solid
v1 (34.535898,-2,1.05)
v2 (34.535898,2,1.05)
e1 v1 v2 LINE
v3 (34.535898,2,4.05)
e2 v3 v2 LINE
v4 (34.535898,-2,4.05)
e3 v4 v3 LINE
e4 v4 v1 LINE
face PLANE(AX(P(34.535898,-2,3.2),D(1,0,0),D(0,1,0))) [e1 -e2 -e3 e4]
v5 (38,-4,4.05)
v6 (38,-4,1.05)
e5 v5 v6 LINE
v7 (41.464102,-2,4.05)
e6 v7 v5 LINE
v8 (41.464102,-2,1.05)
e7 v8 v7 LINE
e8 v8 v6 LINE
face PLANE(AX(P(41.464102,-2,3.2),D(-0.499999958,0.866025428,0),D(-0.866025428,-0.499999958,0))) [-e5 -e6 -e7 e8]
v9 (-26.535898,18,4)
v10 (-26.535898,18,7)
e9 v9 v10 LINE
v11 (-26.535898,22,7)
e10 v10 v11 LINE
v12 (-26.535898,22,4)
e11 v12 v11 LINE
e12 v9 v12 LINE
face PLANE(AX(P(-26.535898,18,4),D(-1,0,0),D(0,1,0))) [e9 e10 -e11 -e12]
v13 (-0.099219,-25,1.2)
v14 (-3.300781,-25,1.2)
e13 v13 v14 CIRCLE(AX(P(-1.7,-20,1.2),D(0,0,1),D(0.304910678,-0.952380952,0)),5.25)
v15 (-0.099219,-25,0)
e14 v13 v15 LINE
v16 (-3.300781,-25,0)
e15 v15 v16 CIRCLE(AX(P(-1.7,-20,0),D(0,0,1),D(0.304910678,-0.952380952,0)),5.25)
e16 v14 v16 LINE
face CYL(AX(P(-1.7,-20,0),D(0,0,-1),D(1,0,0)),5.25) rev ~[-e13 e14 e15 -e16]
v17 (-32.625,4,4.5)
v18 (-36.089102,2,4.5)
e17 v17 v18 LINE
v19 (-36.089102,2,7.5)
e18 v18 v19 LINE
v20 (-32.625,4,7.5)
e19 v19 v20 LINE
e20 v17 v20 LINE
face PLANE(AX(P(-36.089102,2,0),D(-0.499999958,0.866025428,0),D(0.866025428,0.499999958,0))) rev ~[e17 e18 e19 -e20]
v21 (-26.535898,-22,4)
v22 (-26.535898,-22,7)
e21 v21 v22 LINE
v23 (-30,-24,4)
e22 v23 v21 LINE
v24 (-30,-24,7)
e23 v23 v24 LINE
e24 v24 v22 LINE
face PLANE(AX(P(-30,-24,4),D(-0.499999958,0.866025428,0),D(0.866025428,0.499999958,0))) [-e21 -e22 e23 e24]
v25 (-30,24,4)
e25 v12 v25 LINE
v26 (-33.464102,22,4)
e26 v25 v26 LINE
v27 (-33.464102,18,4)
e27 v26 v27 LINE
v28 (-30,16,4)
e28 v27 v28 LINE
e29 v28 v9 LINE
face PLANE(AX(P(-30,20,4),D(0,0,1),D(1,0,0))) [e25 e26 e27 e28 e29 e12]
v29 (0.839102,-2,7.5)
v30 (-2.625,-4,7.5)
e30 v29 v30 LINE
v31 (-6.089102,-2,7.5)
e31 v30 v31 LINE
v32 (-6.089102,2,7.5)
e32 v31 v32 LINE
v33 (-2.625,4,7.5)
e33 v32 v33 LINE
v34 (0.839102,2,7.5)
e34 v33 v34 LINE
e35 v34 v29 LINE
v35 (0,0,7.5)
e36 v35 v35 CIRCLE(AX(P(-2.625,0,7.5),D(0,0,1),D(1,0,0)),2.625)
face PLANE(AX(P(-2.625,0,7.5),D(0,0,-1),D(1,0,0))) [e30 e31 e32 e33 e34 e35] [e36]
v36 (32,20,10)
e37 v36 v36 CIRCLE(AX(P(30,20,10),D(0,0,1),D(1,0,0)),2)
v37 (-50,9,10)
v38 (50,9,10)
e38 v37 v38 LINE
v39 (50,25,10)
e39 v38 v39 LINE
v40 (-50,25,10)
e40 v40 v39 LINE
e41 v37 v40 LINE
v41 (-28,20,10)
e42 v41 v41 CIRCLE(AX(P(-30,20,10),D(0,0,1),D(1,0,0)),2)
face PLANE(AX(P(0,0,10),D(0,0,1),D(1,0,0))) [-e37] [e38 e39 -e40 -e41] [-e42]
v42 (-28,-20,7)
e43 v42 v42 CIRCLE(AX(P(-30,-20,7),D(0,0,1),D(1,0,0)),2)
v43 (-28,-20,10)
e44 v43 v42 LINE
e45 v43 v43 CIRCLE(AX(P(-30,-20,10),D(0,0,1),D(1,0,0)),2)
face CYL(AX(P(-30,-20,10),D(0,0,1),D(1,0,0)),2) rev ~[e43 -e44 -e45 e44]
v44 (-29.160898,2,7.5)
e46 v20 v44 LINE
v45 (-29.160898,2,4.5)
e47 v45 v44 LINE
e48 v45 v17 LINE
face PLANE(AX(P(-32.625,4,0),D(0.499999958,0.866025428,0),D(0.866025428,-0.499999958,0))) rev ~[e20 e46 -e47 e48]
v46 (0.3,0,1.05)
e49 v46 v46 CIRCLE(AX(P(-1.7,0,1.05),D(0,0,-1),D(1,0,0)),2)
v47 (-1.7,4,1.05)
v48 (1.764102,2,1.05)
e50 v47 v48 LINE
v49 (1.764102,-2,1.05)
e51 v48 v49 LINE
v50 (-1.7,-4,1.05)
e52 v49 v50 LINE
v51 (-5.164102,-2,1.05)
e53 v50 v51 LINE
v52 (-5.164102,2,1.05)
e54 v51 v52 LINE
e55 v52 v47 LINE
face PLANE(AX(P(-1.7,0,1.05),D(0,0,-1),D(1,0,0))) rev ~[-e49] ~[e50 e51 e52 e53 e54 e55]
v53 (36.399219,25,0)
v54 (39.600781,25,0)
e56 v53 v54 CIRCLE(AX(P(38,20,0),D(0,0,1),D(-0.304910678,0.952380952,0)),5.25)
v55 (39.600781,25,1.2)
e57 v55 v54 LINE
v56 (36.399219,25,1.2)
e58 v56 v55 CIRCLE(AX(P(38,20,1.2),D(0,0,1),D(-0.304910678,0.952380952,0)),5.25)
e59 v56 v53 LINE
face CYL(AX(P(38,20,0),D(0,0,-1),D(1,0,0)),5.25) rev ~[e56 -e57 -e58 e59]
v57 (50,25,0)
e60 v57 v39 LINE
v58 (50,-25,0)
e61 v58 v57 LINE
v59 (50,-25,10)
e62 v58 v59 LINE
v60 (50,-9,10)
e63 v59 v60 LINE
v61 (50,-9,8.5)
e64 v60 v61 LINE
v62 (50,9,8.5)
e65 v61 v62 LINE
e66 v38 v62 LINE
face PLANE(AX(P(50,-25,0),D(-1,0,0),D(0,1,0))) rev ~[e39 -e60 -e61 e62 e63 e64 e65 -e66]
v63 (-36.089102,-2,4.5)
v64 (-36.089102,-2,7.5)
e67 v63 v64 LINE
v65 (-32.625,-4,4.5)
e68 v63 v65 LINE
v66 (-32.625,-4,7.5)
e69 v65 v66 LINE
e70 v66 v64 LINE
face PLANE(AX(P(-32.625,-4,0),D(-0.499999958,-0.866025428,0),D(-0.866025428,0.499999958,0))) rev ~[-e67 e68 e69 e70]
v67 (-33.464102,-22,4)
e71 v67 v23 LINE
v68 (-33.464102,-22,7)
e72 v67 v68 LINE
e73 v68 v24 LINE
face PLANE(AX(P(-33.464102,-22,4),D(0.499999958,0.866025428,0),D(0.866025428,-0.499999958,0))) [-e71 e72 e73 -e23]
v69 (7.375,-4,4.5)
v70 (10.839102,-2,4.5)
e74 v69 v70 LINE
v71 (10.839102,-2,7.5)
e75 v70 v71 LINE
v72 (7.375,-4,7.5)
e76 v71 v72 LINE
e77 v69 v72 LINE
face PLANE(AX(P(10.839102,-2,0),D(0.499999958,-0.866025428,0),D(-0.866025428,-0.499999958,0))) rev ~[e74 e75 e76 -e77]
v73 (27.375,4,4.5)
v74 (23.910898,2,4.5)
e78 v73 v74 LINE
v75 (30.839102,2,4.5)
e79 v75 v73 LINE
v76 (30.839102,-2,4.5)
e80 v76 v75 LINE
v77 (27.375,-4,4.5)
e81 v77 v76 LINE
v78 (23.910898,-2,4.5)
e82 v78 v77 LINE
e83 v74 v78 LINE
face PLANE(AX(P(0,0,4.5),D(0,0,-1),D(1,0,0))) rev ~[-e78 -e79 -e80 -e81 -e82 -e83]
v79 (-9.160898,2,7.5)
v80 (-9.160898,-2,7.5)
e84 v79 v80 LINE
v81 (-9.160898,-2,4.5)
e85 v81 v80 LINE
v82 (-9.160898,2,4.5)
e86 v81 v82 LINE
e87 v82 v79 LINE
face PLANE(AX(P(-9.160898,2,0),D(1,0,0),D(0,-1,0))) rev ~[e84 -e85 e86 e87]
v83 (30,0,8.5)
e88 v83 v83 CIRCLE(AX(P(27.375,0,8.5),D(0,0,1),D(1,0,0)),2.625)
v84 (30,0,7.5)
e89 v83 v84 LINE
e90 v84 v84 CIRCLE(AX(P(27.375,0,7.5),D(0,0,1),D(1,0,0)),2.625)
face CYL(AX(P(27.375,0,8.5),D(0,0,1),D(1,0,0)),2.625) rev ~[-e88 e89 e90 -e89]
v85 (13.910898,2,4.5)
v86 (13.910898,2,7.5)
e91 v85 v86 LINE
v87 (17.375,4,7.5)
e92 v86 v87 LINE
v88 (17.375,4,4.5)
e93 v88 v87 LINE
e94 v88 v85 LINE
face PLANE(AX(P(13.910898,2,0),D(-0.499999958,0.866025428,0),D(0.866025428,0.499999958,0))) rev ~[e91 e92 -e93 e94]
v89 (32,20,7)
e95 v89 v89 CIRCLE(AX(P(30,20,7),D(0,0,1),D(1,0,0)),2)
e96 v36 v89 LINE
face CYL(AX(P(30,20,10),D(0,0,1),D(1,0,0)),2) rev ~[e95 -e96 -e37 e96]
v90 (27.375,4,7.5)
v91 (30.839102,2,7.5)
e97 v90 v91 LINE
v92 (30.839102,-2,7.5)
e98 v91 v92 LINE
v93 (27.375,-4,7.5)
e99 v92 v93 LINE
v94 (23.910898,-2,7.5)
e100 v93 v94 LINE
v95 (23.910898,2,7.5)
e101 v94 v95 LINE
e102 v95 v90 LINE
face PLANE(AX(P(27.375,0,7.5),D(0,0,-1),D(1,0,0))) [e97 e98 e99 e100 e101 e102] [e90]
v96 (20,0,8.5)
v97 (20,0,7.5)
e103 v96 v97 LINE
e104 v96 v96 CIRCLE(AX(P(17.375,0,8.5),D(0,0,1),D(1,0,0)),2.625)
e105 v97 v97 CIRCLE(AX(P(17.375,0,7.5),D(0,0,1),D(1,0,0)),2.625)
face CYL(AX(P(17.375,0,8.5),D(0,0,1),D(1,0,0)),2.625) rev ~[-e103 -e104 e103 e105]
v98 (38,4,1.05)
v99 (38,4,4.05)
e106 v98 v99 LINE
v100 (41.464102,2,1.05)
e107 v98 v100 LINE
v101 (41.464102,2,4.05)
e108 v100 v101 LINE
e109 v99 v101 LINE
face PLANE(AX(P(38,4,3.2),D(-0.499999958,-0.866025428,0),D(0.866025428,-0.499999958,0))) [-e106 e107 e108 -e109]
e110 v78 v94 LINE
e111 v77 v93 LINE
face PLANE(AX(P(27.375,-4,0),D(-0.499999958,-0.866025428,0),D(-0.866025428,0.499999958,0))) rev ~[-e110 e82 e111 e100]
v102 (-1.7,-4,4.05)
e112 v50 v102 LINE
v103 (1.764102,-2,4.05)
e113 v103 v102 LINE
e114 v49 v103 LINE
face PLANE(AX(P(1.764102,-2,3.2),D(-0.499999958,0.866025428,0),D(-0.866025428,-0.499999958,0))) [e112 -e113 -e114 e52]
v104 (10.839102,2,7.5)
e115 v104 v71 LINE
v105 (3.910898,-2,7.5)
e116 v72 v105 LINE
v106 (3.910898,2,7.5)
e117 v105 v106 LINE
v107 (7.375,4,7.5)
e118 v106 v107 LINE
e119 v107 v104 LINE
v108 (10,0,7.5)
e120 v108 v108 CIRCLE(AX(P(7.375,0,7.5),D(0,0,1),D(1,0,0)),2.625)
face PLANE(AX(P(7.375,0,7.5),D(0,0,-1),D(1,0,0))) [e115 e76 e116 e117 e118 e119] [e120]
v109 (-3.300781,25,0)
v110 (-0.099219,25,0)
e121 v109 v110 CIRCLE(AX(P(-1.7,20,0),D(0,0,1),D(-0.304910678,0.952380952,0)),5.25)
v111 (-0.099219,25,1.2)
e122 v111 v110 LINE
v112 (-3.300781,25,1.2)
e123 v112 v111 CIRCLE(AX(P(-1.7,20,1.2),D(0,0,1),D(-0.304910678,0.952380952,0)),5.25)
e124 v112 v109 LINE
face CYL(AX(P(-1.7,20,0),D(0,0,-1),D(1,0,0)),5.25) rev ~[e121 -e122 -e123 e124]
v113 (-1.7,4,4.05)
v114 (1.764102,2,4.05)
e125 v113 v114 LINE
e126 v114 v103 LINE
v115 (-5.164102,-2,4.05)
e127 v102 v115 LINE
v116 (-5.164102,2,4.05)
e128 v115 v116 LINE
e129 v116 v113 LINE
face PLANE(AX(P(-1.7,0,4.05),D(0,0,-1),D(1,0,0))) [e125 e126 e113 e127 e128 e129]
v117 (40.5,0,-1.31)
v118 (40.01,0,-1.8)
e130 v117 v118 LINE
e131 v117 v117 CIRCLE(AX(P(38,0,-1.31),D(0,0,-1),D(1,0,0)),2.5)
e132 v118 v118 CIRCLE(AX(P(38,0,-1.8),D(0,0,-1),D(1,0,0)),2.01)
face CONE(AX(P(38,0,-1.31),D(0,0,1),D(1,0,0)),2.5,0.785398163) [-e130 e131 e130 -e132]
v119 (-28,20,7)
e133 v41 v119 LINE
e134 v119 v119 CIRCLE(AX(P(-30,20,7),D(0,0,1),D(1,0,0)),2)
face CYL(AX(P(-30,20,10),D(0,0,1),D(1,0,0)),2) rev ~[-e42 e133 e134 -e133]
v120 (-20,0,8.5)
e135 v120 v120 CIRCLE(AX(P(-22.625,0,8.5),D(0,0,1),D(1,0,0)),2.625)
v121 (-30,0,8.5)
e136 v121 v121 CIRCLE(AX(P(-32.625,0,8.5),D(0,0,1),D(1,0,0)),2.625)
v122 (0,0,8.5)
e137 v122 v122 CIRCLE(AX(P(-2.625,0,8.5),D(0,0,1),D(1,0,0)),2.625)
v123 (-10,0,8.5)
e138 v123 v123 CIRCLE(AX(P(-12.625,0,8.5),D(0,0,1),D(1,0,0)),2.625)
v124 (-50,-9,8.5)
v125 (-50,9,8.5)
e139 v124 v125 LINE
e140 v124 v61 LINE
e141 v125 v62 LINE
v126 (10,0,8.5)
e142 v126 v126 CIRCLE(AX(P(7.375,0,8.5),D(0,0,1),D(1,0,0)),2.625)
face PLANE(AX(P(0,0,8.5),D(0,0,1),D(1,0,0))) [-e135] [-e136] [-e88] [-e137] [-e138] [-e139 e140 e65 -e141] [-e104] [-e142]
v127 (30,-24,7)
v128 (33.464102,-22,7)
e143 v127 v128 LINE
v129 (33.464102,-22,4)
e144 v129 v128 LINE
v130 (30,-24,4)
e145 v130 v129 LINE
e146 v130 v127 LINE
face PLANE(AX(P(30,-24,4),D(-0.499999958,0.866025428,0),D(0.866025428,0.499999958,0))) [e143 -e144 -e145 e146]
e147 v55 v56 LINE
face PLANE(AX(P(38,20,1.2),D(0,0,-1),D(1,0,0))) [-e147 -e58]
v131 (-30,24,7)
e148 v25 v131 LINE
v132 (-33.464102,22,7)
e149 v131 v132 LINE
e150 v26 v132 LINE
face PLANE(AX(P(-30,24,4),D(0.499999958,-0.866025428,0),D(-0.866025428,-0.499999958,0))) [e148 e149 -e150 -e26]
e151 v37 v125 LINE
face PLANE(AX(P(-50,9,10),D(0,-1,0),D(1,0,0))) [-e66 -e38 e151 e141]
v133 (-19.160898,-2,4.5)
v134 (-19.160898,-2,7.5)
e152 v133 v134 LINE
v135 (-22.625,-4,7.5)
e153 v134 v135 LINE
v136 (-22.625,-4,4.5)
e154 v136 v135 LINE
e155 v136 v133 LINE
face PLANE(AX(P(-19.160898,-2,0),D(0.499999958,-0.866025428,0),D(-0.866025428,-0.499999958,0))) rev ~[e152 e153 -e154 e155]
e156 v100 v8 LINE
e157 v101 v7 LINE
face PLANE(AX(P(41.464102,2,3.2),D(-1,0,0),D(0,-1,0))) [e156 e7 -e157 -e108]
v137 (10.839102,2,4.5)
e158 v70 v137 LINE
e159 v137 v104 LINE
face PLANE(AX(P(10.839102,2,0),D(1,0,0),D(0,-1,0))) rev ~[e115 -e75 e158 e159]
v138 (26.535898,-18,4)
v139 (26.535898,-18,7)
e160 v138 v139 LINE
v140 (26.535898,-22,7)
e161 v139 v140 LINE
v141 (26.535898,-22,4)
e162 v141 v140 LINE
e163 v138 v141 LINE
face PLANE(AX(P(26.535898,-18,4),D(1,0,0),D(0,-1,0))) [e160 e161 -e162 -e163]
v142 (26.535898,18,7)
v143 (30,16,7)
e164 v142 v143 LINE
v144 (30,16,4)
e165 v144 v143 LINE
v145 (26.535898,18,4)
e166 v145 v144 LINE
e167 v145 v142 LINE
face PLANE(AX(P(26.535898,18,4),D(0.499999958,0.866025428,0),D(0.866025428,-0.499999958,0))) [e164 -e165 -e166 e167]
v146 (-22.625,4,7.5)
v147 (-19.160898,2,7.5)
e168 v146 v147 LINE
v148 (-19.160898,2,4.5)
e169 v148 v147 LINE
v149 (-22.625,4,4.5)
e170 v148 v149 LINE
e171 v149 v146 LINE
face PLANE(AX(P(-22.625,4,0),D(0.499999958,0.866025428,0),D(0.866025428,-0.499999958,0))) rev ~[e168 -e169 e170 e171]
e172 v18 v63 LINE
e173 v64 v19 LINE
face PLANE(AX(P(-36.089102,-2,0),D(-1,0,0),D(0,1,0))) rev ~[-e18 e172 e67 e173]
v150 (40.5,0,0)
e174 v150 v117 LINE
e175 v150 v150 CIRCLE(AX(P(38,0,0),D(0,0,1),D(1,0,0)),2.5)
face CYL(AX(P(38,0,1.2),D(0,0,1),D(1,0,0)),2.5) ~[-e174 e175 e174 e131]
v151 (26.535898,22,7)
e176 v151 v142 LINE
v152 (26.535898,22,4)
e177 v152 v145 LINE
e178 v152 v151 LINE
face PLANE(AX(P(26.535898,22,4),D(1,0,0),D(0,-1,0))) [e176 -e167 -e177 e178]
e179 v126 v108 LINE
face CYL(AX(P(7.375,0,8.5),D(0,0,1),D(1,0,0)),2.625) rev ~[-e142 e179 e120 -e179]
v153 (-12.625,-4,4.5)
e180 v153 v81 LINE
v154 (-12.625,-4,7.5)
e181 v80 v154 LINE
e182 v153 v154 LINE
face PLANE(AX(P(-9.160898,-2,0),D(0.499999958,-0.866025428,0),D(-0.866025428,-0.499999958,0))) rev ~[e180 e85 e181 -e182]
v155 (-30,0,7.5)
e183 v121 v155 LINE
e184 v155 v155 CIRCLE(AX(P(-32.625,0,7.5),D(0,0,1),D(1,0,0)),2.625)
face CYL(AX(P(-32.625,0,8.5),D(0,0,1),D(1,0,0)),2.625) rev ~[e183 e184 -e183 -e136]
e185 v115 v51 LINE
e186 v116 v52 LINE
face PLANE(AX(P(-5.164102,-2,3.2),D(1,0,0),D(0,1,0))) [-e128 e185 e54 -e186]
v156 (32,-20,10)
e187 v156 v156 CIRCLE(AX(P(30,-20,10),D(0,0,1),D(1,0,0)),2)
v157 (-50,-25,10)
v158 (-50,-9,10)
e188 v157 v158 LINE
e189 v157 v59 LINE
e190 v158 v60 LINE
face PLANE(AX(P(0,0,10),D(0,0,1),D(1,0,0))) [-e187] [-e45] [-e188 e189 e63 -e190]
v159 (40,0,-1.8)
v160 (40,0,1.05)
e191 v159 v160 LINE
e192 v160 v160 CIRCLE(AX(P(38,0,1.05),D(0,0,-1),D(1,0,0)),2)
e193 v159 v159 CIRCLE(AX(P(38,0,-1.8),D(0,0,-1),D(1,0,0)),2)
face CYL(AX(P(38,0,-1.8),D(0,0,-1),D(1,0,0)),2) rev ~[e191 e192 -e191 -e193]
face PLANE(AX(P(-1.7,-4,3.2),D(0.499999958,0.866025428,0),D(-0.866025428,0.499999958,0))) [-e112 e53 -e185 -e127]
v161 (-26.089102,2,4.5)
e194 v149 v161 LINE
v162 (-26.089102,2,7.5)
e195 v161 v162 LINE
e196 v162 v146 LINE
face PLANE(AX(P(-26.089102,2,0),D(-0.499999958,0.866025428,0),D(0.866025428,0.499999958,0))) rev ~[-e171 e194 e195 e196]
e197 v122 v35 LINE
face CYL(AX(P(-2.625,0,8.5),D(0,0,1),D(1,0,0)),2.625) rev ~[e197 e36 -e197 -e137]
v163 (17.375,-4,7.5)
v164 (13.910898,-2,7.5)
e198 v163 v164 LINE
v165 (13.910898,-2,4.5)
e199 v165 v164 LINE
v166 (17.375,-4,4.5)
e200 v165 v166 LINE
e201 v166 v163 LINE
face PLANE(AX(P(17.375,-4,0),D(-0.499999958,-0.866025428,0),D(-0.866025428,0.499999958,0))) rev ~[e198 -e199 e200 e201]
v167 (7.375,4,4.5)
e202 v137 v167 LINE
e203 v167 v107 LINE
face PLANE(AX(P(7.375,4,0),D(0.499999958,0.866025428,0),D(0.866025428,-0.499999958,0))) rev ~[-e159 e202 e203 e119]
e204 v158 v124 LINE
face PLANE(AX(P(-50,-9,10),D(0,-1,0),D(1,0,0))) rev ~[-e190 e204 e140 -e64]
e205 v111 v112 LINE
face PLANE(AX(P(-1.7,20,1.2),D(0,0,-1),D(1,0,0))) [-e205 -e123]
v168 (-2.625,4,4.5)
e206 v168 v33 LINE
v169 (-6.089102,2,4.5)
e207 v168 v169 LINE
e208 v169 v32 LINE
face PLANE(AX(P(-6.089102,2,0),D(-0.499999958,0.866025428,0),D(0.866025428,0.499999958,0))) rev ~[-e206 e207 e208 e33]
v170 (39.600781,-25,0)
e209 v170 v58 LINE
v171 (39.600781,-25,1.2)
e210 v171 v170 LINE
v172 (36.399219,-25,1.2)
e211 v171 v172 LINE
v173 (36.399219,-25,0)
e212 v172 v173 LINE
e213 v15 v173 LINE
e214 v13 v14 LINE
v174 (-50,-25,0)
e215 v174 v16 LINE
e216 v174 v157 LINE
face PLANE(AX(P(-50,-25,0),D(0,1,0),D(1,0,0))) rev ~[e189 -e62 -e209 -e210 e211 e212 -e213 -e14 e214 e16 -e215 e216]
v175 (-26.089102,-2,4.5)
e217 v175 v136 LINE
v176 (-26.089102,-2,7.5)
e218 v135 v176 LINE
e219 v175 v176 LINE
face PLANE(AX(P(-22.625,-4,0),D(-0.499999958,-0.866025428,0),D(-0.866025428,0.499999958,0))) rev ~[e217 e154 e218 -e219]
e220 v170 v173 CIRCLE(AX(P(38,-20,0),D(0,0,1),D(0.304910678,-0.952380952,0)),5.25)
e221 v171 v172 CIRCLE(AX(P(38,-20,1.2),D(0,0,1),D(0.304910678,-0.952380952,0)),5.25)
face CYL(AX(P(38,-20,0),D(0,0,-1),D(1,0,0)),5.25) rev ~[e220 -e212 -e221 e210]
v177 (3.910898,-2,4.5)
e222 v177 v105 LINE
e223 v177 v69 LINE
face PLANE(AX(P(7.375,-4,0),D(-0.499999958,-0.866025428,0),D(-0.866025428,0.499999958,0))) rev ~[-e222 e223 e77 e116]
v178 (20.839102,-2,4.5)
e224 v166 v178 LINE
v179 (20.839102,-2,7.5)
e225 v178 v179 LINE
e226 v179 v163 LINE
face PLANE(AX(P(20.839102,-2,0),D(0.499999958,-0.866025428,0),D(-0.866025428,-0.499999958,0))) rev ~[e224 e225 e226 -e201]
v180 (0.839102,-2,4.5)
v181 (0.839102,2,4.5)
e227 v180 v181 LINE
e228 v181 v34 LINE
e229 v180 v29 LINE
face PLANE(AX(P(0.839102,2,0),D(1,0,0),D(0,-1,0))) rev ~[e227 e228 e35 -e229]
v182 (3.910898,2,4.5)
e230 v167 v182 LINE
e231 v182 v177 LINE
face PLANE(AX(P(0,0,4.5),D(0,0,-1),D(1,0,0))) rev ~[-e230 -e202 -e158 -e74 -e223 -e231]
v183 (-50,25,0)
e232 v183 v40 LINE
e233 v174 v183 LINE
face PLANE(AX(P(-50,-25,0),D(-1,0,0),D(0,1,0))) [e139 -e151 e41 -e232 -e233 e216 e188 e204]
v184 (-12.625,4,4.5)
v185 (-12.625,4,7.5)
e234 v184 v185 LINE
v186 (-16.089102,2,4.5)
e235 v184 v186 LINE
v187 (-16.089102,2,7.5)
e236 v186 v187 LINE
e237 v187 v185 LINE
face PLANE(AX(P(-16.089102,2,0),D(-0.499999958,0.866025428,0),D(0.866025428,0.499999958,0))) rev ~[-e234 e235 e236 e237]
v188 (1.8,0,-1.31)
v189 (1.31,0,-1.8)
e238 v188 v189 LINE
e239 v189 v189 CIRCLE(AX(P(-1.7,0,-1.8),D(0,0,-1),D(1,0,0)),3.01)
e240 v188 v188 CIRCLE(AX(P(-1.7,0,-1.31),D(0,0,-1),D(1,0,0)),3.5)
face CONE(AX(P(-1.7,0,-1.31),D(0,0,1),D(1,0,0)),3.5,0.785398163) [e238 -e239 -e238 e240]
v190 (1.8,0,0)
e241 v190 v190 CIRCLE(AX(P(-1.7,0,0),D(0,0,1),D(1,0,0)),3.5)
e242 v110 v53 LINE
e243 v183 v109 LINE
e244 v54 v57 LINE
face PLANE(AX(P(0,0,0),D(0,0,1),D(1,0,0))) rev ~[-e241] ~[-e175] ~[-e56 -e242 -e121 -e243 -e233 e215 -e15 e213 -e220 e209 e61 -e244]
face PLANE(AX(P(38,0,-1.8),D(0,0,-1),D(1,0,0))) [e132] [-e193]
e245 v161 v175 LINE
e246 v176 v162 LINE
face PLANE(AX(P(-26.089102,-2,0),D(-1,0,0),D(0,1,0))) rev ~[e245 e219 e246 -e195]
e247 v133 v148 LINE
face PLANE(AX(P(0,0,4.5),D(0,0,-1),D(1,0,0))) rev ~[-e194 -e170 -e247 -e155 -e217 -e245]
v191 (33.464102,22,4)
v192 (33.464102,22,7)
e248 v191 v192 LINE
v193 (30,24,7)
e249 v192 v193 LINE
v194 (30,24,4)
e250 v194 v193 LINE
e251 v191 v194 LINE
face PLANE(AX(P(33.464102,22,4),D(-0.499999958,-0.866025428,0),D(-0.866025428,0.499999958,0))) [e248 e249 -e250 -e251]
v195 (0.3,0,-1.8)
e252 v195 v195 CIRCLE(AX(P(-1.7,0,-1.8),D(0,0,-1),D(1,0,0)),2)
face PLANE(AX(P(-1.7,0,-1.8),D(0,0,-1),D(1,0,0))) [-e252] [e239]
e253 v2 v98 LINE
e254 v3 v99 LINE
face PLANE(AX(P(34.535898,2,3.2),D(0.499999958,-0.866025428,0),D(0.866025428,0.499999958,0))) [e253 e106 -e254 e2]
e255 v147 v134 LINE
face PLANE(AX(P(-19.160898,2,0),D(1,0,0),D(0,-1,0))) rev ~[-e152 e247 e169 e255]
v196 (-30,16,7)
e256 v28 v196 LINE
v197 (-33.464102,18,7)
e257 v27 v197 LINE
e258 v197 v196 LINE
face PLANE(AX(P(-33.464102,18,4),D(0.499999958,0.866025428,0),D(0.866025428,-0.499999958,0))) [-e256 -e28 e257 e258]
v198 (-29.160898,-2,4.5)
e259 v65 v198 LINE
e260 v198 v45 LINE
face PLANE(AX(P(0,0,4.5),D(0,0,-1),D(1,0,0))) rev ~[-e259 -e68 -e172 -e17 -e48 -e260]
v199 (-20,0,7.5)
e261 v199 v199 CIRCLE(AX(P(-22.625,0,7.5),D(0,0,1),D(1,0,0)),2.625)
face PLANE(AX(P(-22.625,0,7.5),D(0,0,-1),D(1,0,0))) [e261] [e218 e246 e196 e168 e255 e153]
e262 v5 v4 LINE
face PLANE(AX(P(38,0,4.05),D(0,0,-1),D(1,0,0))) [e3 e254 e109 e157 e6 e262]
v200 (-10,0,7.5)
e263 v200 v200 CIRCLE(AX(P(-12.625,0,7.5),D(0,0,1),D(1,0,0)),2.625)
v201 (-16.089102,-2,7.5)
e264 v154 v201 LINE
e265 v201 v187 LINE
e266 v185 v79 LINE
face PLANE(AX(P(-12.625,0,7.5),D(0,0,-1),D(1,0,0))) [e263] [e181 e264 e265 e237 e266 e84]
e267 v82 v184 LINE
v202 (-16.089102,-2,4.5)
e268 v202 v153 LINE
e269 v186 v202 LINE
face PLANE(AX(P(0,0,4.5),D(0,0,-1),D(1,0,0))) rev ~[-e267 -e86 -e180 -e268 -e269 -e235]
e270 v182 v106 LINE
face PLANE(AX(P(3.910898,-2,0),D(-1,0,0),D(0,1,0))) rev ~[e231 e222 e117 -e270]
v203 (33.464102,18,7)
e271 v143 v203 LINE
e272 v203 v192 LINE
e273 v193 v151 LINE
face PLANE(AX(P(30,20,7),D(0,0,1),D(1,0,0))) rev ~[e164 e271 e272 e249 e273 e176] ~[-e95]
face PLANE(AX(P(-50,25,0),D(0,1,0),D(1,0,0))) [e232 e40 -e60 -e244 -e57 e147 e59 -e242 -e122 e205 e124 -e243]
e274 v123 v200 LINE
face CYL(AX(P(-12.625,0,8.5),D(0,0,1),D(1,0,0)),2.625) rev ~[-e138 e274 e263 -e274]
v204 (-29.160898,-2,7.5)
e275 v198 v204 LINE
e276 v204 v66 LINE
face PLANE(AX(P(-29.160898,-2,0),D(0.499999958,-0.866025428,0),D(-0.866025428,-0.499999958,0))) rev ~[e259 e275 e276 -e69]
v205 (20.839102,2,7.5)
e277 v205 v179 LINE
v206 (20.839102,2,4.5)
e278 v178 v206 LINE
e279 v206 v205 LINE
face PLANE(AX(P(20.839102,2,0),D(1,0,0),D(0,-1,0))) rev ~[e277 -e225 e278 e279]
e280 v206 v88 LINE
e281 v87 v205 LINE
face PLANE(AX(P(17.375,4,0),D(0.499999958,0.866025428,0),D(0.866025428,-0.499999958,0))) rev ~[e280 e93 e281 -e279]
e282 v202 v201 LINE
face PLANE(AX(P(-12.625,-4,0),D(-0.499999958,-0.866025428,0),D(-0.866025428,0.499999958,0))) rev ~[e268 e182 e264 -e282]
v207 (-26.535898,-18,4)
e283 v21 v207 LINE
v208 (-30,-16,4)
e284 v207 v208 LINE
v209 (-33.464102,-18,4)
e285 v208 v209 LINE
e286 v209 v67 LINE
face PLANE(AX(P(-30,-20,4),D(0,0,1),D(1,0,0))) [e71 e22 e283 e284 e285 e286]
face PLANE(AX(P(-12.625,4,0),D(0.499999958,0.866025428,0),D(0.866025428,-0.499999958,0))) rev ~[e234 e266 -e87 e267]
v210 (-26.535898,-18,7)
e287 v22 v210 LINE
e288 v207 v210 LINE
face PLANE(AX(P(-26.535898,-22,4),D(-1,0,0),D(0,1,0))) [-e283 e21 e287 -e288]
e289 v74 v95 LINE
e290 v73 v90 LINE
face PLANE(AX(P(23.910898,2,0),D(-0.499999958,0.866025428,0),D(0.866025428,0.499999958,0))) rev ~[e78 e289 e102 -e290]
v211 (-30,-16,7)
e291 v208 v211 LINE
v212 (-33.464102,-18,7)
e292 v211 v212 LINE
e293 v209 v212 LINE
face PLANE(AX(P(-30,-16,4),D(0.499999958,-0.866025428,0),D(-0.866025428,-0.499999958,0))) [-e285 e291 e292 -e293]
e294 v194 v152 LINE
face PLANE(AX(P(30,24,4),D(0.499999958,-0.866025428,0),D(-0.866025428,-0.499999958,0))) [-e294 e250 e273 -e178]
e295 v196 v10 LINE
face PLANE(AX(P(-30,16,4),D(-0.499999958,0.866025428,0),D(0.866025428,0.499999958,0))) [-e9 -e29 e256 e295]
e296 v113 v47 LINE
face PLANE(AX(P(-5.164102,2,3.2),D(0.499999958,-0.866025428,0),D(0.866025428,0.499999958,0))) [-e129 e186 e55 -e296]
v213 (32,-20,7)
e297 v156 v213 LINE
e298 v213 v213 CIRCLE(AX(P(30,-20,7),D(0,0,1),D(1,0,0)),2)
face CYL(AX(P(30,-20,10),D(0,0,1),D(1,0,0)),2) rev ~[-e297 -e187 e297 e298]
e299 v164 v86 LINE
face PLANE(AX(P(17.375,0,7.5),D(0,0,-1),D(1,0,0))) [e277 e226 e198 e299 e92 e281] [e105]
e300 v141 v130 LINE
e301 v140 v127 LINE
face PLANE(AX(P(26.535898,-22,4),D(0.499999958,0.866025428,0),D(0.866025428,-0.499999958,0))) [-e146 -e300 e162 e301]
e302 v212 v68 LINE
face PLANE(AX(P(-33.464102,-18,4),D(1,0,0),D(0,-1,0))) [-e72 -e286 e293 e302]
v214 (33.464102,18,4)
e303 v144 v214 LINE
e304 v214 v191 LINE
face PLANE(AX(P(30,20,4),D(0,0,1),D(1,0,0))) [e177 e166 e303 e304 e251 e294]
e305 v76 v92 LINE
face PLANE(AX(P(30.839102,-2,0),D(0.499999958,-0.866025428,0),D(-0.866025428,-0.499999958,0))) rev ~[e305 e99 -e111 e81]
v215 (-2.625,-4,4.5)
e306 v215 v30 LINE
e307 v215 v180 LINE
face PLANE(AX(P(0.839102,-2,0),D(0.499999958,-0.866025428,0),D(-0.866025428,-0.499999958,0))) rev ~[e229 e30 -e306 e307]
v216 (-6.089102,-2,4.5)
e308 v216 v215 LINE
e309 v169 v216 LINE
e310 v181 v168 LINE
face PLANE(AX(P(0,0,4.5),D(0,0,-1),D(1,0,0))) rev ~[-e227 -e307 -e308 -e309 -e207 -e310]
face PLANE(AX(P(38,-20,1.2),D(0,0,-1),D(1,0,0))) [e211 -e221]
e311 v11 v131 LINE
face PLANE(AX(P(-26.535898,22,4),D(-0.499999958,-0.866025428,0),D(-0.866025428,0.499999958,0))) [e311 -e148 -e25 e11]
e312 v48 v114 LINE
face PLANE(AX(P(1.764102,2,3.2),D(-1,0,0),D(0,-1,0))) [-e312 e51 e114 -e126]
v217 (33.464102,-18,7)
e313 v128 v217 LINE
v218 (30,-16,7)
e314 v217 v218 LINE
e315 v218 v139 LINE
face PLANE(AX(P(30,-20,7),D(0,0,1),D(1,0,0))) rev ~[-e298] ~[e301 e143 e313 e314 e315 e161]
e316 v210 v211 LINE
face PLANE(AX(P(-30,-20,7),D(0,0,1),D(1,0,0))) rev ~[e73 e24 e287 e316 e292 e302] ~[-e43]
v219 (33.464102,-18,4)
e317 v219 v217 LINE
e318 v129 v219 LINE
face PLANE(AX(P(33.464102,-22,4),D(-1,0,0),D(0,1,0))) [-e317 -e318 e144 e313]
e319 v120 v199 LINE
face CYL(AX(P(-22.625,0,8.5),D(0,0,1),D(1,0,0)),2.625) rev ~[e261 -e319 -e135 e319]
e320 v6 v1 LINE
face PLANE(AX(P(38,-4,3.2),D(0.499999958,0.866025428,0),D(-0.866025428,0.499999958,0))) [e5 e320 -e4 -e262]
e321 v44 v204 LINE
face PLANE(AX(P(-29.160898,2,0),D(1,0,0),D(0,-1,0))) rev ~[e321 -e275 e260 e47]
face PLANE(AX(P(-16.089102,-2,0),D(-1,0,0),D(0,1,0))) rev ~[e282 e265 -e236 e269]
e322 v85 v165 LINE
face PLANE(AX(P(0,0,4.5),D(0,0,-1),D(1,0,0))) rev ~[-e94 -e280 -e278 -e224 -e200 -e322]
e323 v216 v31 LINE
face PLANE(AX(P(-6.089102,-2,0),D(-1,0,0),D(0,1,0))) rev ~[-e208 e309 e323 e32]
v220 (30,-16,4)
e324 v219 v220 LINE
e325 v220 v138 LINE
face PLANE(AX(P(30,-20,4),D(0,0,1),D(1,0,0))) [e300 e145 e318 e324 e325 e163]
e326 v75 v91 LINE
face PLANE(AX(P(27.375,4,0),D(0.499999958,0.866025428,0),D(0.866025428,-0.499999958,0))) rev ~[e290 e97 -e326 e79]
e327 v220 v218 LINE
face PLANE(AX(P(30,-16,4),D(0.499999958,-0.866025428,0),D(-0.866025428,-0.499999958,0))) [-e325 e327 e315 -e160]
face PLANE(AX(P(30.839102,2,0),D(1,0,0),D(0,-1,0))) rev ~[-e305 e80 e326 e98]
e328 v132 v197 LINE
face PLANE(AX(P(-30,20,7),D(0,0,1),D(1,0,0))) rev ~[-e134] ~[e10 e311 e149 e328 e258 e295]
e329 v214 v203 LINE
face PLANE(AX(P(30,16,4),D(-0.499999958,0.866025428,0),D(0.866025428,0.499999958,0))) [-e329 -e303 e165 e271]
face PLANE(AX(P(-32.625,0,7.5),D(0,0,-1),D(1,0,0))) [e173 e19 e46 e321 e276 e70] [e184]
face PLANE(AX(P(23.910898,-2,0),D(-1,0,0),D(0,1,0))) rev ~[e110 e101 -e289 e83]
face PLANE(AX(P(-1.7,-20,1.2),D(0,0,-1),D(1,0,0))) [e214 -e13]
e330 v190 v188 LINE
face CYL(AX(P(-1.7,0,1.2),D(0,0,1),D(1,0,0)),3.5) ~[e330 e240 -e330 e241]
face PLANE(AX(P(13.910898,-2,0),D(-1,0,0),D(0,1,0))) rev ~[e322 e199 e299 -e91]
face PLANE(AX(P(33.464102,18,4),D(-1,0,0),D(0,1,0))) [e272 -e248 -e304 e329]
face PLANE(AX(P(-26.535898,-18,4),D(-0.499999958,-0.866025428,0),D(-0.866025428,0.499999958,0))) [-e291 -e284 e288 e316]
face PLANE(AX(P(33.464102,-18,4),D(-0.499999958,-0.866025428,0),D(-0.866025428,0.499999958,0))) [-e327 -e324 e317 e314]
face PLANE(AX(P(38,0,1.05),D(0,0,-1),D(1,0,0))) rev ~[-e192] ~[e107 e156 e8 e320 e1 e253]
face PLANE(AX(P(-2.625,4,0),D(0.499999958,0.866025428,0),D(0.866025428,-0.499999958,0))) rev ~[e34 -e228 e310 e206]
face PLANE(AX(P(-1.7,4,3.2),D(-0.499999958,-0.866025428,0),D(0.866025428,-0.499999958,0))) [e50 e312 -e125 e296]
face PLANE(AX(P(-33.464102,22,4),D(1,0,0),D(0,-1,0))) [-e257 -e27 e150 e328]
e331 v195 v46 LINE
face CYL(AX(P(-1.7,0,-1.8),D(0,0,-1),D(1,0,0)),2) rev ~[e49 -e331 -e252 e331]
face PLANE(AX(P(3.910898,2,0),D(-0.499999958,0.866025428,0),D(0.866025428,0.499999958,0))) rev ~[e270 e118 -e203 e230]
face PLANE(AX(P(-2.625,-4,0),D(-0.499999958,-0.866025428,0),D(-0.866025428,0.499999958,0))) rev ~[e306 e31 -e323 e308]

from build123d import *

# Parameters (mm, degrees)
SKETCH_W             = 100
SKETCH_H             = 50
PAD_DEPTH            = 10
SKETCH001_W          = 100
SKETCH001_H          = 18
POCKET_DEPTH         = 1.5
SKETCH002_R          = 2.625
POCKET001_DEPTH      = 8.501
POCKET002_DEPTH      = 7.5
SKETCH004_W          = 77
SKETCH004_H          = 15
PAD001_DEPTH         = 4.5
SKETCH005_R          = 5.25
POCKET003_DEPTH      = 1.2
SKETCH006_R          = 3.5
SKETCH006_R_2        = 2.5
PAD002_DEPTH         = 3
SKETCH008_R          = 2
POCKET005_DEPTH      = 5
SKETCH009_R          = 2
POCKET006_DEPTH      = 5
CHAMFER_SIZE         = 0.49
POCKET007_DEPTH      = 2.15
POCKET007_DEPTH_BACK = 0.85
SKETCH011_R          = 2
POCKET008_DEPTH      = 6
POCKET009_DEPTH      = 3


with BuildPart() as part:
    # Sketch → Pad (new body)
    with BuildSketch(Plane.XY):
        Rectangle(SKETCH_W, SKETCH_H)
    extrude(amount=PAD_DEPTH)

    # Sketch001 (on Face6 of Pad) → Pocket (cut)
    with BuildSketch(Plane.XY.offset(10)):
        Rectangle(SKETCH001_W, SKETCH001_H)
    extrude(amount=-POCKET_DEPTH, mode=Mode.SUBTRACT)

    # Sketch002 (on Face7 of Pocket) → Pocket001 (cut, through all)
    with BuildSketch(Plane.XY.offset(8.5)):
        with Locations((-22.625, 0)):
            Circle(SKETCH002_R)
        with Locations((-12.625, 0)):
            Circle(SKETCH002_R)
        with Locations((-2.625, 0)):
            Circle(SKETCH002_R)
        with Locations((7.375, 0)):
            Circle(SKETCH002_R)
        with Locations((17.375, 0)):
            Circle(SKETCH002_R)
        with Locations((27.375, 0)):
            Circle(SKETCH002_R)
        with Locations((-32.625, 0)):
            Circle(SKETCH002_R)
    extrude(amount=-POCKET001_DEPTH, mode=Mode.SUBTRACT)

    # Sketch003 (on Face4 of Pocket001) → Pocket002 (cut)
    with BuildSketch(Plane(origin=(0, 0, 0), x_dir=(1, 0, 0), z_dir=(0, 0, -1))):
        Polygon((-32.625, -4), (-29.160898, -2), (-29.160898, 2), (-32.625, 4), (-36.089102, 2), (-36.089102, -2), align=None)
        Polygon((-22.625, -4), (-19.160898, -2), (-19.160898, 2), (-22.625, 4), (-26.089102, 2), (-26.089102, -2), align=None)
        Polygon((-12.625, -4), (-9.160898, -2), (-9.160898, 2), (-12.625, 4), (-16.089102, 2), (-16.089102, -2), align=None)
        Polygon((-2.625, -4), (0.839102, -2), (0.839102, 2), (-2.625, 4), (-6.089102, 2), (-6.089102, -2), align=None)
        Polygon((7.375, -4), (10.839102, -2), (10.839102, 2), (7.375, 4), (3.910898, 2), (3.910898, -2), align=None)
        Polygon((17.375, -4), (20.839102, -2), (20.839102, 2), (17.375, 4), (13.910898, 2), (13.910898, -2), align=None)
        Polygon((27.375, -4), (30.839102, -2), (30.839102, 2), (27.375, 4), (23.910898, 2), (23.910898, -2), align=None)
    extrude(amount=-POCKET002_DEPTH, mode=Mode.SUBTRACT)

    # Sketch004 (on DatumPlane) → Pad001 (join)
    with BuildSketch(Plane(origin=(0, 0, 4.5), x_dir=(1, 0, 0), z_dir=(0, 0, -1))):
        Rectangle(SKETCH004_W, SKETCH004_H)
    extrude(amount=PAD001_DEPTH)

    # Sketch005 (on Face4 of Pad001) → Pocket003 (cut)
    with BuildSketch(Plane(origin=(0, 0, 0), x_dir=(1, 0, 0), z_dir=(0, 0, -1))):
        with Locations((38, 20)):
            Circle(SKETCH005_R)
        with Locations((38, -20)):
            Circle(SKETCH005_R)
        with Locations((-1.7, 20)):
            Circle(SKETCH005_R)
        with Locations((-1.7, -20)):
            Circle(SKETCH005_R)
    extrude(amount=-POCKET003_DEPTH, mode=Mode.SUBTRACT)

    # Sketch006 (on Face4 of Pocket003) → Pad002 (join)
    with BuildSketch(Plane(origin=(0, 0, 1.2), x_dir=(1, 0, 0), z_dir=(0, 0, -1))):
        with Locations((-1.7, 0)):
            Circle(SKETCH006_R)
        with Locations((38, 0)):
            Circle(SKETCH006_R_2)
    extrude(amount=PAD002_DEPTH)

    # Sketch008 → Pocket005 (cut)
    with BuildSketch(Plane(origin=(0, 0, -1.8), x_dir=(1, 0, 0), z_dir=(0, 0, -1))):
        with Locations((-1.7, 0)):
            Circle(SKETCH008_R)
        with Locations((38, 0)):
            Circle(SKETCH008_R)
    extrude(amount=-POCKET005_DEPTH, mode=Mode.SUBTRACT)

    # Sketch009 (on Face33 of Pad002) → Pocket006 (cut)
    with BuildSketch(Plane(origin=(0, 0, -1.8), x_dir=(1, 0, 0), z_dir=(0, 0, -1))):
        with Locations((-1.7, 0)):
            Circle(SKETCH009_R)
        with Locations((38, 0)):
            Circle(SKETCH009_R)
    extrude(amount=-POCKET006_DEPTH, mode=Mode.SUBTRACT)

    # Chamfer
    chamfer_edges = [part.edges().sort_by_distance(p)[0] for p in [
        (-5.2, 0, -1.8),
        (35.5, 0, -1.8),
    ]]
    chamfer(chamfer_edges, length=CHAMFER_SIZE)

    # Sketch010 (on Face37 of Chamfer) → Pocket007 (cut, two sides)
    with BuildSketch(Plane(origin=(0, 0, 3.2), x_dir=(1, 0, 0), z_dir=(0, 0, -1))) as pocket007_sk:
        Polygon((-1.7, -4), (1.764102, -2), (1.764102, 2), (-1.7, 4), (-5.164102, 2), (-5.164102, -2), align=None)
        Polygon((34.535898, -2), (38, -4), (41.464102, -2), (41.464102, 2), (38, 4), (34.535898, 2), align=None)
    extrude(amount=POCKET007_DEPTH, mode=Mode.SUBTRACT)
    extrude(pocket007_sk.sketch, amount=-POCKET007_DEPTH_BACK, mode=Mode.SUBTRACT)

    # Sketch011 (on Face33 of Pocket007) → Pocket008 (cut)
    with BuildSketch(Plane.XY.offset(10)):
        with Locations((-30, 20)):
            Circle(SKETCH011_R)
        with Locations((30, 20)):
            Circle(SKETCH011_R)
        with Locations((30, -20)):
            Circle(SKETCH011_R)
        with Locations((-30, -20)):
            Circle(SKETCH011_R)
    extrude(amount=-POCKET008_DEPTH, mode=Mode.SUBTRACT)

    # Sketch012 (on Face66 of Pocket008) → Pocket009 (cut)
    with BuildSketch(Plane.XY.offset(4)):
        Polygon((-30, 16), (-26.535898, 18), (-26.535898, 22), (-30, 24), (-33.464102, 22), (-33.464102, 18), align=None)
        Polygon((30, 16), (33.464102, 18), (33.464102, 22), (30, 24), (26.535898, 22), (26.535898, 18), align=None)
        Polygon((-30, -24), (-26.535898, -22), (-26.535898, -18), (-30, -16), (-33.464102, -18), (-33.464102, -22), align=None)
        Polygon((30, -24), (33.464102, -22), (33.464102, -18), (30, -16), (26.535898, -18), (26.535898, -22), align=None)
    extrude(amount=POCKET009_DEPTH, mode=Mode.SUBTRACT)


solid = part.part
